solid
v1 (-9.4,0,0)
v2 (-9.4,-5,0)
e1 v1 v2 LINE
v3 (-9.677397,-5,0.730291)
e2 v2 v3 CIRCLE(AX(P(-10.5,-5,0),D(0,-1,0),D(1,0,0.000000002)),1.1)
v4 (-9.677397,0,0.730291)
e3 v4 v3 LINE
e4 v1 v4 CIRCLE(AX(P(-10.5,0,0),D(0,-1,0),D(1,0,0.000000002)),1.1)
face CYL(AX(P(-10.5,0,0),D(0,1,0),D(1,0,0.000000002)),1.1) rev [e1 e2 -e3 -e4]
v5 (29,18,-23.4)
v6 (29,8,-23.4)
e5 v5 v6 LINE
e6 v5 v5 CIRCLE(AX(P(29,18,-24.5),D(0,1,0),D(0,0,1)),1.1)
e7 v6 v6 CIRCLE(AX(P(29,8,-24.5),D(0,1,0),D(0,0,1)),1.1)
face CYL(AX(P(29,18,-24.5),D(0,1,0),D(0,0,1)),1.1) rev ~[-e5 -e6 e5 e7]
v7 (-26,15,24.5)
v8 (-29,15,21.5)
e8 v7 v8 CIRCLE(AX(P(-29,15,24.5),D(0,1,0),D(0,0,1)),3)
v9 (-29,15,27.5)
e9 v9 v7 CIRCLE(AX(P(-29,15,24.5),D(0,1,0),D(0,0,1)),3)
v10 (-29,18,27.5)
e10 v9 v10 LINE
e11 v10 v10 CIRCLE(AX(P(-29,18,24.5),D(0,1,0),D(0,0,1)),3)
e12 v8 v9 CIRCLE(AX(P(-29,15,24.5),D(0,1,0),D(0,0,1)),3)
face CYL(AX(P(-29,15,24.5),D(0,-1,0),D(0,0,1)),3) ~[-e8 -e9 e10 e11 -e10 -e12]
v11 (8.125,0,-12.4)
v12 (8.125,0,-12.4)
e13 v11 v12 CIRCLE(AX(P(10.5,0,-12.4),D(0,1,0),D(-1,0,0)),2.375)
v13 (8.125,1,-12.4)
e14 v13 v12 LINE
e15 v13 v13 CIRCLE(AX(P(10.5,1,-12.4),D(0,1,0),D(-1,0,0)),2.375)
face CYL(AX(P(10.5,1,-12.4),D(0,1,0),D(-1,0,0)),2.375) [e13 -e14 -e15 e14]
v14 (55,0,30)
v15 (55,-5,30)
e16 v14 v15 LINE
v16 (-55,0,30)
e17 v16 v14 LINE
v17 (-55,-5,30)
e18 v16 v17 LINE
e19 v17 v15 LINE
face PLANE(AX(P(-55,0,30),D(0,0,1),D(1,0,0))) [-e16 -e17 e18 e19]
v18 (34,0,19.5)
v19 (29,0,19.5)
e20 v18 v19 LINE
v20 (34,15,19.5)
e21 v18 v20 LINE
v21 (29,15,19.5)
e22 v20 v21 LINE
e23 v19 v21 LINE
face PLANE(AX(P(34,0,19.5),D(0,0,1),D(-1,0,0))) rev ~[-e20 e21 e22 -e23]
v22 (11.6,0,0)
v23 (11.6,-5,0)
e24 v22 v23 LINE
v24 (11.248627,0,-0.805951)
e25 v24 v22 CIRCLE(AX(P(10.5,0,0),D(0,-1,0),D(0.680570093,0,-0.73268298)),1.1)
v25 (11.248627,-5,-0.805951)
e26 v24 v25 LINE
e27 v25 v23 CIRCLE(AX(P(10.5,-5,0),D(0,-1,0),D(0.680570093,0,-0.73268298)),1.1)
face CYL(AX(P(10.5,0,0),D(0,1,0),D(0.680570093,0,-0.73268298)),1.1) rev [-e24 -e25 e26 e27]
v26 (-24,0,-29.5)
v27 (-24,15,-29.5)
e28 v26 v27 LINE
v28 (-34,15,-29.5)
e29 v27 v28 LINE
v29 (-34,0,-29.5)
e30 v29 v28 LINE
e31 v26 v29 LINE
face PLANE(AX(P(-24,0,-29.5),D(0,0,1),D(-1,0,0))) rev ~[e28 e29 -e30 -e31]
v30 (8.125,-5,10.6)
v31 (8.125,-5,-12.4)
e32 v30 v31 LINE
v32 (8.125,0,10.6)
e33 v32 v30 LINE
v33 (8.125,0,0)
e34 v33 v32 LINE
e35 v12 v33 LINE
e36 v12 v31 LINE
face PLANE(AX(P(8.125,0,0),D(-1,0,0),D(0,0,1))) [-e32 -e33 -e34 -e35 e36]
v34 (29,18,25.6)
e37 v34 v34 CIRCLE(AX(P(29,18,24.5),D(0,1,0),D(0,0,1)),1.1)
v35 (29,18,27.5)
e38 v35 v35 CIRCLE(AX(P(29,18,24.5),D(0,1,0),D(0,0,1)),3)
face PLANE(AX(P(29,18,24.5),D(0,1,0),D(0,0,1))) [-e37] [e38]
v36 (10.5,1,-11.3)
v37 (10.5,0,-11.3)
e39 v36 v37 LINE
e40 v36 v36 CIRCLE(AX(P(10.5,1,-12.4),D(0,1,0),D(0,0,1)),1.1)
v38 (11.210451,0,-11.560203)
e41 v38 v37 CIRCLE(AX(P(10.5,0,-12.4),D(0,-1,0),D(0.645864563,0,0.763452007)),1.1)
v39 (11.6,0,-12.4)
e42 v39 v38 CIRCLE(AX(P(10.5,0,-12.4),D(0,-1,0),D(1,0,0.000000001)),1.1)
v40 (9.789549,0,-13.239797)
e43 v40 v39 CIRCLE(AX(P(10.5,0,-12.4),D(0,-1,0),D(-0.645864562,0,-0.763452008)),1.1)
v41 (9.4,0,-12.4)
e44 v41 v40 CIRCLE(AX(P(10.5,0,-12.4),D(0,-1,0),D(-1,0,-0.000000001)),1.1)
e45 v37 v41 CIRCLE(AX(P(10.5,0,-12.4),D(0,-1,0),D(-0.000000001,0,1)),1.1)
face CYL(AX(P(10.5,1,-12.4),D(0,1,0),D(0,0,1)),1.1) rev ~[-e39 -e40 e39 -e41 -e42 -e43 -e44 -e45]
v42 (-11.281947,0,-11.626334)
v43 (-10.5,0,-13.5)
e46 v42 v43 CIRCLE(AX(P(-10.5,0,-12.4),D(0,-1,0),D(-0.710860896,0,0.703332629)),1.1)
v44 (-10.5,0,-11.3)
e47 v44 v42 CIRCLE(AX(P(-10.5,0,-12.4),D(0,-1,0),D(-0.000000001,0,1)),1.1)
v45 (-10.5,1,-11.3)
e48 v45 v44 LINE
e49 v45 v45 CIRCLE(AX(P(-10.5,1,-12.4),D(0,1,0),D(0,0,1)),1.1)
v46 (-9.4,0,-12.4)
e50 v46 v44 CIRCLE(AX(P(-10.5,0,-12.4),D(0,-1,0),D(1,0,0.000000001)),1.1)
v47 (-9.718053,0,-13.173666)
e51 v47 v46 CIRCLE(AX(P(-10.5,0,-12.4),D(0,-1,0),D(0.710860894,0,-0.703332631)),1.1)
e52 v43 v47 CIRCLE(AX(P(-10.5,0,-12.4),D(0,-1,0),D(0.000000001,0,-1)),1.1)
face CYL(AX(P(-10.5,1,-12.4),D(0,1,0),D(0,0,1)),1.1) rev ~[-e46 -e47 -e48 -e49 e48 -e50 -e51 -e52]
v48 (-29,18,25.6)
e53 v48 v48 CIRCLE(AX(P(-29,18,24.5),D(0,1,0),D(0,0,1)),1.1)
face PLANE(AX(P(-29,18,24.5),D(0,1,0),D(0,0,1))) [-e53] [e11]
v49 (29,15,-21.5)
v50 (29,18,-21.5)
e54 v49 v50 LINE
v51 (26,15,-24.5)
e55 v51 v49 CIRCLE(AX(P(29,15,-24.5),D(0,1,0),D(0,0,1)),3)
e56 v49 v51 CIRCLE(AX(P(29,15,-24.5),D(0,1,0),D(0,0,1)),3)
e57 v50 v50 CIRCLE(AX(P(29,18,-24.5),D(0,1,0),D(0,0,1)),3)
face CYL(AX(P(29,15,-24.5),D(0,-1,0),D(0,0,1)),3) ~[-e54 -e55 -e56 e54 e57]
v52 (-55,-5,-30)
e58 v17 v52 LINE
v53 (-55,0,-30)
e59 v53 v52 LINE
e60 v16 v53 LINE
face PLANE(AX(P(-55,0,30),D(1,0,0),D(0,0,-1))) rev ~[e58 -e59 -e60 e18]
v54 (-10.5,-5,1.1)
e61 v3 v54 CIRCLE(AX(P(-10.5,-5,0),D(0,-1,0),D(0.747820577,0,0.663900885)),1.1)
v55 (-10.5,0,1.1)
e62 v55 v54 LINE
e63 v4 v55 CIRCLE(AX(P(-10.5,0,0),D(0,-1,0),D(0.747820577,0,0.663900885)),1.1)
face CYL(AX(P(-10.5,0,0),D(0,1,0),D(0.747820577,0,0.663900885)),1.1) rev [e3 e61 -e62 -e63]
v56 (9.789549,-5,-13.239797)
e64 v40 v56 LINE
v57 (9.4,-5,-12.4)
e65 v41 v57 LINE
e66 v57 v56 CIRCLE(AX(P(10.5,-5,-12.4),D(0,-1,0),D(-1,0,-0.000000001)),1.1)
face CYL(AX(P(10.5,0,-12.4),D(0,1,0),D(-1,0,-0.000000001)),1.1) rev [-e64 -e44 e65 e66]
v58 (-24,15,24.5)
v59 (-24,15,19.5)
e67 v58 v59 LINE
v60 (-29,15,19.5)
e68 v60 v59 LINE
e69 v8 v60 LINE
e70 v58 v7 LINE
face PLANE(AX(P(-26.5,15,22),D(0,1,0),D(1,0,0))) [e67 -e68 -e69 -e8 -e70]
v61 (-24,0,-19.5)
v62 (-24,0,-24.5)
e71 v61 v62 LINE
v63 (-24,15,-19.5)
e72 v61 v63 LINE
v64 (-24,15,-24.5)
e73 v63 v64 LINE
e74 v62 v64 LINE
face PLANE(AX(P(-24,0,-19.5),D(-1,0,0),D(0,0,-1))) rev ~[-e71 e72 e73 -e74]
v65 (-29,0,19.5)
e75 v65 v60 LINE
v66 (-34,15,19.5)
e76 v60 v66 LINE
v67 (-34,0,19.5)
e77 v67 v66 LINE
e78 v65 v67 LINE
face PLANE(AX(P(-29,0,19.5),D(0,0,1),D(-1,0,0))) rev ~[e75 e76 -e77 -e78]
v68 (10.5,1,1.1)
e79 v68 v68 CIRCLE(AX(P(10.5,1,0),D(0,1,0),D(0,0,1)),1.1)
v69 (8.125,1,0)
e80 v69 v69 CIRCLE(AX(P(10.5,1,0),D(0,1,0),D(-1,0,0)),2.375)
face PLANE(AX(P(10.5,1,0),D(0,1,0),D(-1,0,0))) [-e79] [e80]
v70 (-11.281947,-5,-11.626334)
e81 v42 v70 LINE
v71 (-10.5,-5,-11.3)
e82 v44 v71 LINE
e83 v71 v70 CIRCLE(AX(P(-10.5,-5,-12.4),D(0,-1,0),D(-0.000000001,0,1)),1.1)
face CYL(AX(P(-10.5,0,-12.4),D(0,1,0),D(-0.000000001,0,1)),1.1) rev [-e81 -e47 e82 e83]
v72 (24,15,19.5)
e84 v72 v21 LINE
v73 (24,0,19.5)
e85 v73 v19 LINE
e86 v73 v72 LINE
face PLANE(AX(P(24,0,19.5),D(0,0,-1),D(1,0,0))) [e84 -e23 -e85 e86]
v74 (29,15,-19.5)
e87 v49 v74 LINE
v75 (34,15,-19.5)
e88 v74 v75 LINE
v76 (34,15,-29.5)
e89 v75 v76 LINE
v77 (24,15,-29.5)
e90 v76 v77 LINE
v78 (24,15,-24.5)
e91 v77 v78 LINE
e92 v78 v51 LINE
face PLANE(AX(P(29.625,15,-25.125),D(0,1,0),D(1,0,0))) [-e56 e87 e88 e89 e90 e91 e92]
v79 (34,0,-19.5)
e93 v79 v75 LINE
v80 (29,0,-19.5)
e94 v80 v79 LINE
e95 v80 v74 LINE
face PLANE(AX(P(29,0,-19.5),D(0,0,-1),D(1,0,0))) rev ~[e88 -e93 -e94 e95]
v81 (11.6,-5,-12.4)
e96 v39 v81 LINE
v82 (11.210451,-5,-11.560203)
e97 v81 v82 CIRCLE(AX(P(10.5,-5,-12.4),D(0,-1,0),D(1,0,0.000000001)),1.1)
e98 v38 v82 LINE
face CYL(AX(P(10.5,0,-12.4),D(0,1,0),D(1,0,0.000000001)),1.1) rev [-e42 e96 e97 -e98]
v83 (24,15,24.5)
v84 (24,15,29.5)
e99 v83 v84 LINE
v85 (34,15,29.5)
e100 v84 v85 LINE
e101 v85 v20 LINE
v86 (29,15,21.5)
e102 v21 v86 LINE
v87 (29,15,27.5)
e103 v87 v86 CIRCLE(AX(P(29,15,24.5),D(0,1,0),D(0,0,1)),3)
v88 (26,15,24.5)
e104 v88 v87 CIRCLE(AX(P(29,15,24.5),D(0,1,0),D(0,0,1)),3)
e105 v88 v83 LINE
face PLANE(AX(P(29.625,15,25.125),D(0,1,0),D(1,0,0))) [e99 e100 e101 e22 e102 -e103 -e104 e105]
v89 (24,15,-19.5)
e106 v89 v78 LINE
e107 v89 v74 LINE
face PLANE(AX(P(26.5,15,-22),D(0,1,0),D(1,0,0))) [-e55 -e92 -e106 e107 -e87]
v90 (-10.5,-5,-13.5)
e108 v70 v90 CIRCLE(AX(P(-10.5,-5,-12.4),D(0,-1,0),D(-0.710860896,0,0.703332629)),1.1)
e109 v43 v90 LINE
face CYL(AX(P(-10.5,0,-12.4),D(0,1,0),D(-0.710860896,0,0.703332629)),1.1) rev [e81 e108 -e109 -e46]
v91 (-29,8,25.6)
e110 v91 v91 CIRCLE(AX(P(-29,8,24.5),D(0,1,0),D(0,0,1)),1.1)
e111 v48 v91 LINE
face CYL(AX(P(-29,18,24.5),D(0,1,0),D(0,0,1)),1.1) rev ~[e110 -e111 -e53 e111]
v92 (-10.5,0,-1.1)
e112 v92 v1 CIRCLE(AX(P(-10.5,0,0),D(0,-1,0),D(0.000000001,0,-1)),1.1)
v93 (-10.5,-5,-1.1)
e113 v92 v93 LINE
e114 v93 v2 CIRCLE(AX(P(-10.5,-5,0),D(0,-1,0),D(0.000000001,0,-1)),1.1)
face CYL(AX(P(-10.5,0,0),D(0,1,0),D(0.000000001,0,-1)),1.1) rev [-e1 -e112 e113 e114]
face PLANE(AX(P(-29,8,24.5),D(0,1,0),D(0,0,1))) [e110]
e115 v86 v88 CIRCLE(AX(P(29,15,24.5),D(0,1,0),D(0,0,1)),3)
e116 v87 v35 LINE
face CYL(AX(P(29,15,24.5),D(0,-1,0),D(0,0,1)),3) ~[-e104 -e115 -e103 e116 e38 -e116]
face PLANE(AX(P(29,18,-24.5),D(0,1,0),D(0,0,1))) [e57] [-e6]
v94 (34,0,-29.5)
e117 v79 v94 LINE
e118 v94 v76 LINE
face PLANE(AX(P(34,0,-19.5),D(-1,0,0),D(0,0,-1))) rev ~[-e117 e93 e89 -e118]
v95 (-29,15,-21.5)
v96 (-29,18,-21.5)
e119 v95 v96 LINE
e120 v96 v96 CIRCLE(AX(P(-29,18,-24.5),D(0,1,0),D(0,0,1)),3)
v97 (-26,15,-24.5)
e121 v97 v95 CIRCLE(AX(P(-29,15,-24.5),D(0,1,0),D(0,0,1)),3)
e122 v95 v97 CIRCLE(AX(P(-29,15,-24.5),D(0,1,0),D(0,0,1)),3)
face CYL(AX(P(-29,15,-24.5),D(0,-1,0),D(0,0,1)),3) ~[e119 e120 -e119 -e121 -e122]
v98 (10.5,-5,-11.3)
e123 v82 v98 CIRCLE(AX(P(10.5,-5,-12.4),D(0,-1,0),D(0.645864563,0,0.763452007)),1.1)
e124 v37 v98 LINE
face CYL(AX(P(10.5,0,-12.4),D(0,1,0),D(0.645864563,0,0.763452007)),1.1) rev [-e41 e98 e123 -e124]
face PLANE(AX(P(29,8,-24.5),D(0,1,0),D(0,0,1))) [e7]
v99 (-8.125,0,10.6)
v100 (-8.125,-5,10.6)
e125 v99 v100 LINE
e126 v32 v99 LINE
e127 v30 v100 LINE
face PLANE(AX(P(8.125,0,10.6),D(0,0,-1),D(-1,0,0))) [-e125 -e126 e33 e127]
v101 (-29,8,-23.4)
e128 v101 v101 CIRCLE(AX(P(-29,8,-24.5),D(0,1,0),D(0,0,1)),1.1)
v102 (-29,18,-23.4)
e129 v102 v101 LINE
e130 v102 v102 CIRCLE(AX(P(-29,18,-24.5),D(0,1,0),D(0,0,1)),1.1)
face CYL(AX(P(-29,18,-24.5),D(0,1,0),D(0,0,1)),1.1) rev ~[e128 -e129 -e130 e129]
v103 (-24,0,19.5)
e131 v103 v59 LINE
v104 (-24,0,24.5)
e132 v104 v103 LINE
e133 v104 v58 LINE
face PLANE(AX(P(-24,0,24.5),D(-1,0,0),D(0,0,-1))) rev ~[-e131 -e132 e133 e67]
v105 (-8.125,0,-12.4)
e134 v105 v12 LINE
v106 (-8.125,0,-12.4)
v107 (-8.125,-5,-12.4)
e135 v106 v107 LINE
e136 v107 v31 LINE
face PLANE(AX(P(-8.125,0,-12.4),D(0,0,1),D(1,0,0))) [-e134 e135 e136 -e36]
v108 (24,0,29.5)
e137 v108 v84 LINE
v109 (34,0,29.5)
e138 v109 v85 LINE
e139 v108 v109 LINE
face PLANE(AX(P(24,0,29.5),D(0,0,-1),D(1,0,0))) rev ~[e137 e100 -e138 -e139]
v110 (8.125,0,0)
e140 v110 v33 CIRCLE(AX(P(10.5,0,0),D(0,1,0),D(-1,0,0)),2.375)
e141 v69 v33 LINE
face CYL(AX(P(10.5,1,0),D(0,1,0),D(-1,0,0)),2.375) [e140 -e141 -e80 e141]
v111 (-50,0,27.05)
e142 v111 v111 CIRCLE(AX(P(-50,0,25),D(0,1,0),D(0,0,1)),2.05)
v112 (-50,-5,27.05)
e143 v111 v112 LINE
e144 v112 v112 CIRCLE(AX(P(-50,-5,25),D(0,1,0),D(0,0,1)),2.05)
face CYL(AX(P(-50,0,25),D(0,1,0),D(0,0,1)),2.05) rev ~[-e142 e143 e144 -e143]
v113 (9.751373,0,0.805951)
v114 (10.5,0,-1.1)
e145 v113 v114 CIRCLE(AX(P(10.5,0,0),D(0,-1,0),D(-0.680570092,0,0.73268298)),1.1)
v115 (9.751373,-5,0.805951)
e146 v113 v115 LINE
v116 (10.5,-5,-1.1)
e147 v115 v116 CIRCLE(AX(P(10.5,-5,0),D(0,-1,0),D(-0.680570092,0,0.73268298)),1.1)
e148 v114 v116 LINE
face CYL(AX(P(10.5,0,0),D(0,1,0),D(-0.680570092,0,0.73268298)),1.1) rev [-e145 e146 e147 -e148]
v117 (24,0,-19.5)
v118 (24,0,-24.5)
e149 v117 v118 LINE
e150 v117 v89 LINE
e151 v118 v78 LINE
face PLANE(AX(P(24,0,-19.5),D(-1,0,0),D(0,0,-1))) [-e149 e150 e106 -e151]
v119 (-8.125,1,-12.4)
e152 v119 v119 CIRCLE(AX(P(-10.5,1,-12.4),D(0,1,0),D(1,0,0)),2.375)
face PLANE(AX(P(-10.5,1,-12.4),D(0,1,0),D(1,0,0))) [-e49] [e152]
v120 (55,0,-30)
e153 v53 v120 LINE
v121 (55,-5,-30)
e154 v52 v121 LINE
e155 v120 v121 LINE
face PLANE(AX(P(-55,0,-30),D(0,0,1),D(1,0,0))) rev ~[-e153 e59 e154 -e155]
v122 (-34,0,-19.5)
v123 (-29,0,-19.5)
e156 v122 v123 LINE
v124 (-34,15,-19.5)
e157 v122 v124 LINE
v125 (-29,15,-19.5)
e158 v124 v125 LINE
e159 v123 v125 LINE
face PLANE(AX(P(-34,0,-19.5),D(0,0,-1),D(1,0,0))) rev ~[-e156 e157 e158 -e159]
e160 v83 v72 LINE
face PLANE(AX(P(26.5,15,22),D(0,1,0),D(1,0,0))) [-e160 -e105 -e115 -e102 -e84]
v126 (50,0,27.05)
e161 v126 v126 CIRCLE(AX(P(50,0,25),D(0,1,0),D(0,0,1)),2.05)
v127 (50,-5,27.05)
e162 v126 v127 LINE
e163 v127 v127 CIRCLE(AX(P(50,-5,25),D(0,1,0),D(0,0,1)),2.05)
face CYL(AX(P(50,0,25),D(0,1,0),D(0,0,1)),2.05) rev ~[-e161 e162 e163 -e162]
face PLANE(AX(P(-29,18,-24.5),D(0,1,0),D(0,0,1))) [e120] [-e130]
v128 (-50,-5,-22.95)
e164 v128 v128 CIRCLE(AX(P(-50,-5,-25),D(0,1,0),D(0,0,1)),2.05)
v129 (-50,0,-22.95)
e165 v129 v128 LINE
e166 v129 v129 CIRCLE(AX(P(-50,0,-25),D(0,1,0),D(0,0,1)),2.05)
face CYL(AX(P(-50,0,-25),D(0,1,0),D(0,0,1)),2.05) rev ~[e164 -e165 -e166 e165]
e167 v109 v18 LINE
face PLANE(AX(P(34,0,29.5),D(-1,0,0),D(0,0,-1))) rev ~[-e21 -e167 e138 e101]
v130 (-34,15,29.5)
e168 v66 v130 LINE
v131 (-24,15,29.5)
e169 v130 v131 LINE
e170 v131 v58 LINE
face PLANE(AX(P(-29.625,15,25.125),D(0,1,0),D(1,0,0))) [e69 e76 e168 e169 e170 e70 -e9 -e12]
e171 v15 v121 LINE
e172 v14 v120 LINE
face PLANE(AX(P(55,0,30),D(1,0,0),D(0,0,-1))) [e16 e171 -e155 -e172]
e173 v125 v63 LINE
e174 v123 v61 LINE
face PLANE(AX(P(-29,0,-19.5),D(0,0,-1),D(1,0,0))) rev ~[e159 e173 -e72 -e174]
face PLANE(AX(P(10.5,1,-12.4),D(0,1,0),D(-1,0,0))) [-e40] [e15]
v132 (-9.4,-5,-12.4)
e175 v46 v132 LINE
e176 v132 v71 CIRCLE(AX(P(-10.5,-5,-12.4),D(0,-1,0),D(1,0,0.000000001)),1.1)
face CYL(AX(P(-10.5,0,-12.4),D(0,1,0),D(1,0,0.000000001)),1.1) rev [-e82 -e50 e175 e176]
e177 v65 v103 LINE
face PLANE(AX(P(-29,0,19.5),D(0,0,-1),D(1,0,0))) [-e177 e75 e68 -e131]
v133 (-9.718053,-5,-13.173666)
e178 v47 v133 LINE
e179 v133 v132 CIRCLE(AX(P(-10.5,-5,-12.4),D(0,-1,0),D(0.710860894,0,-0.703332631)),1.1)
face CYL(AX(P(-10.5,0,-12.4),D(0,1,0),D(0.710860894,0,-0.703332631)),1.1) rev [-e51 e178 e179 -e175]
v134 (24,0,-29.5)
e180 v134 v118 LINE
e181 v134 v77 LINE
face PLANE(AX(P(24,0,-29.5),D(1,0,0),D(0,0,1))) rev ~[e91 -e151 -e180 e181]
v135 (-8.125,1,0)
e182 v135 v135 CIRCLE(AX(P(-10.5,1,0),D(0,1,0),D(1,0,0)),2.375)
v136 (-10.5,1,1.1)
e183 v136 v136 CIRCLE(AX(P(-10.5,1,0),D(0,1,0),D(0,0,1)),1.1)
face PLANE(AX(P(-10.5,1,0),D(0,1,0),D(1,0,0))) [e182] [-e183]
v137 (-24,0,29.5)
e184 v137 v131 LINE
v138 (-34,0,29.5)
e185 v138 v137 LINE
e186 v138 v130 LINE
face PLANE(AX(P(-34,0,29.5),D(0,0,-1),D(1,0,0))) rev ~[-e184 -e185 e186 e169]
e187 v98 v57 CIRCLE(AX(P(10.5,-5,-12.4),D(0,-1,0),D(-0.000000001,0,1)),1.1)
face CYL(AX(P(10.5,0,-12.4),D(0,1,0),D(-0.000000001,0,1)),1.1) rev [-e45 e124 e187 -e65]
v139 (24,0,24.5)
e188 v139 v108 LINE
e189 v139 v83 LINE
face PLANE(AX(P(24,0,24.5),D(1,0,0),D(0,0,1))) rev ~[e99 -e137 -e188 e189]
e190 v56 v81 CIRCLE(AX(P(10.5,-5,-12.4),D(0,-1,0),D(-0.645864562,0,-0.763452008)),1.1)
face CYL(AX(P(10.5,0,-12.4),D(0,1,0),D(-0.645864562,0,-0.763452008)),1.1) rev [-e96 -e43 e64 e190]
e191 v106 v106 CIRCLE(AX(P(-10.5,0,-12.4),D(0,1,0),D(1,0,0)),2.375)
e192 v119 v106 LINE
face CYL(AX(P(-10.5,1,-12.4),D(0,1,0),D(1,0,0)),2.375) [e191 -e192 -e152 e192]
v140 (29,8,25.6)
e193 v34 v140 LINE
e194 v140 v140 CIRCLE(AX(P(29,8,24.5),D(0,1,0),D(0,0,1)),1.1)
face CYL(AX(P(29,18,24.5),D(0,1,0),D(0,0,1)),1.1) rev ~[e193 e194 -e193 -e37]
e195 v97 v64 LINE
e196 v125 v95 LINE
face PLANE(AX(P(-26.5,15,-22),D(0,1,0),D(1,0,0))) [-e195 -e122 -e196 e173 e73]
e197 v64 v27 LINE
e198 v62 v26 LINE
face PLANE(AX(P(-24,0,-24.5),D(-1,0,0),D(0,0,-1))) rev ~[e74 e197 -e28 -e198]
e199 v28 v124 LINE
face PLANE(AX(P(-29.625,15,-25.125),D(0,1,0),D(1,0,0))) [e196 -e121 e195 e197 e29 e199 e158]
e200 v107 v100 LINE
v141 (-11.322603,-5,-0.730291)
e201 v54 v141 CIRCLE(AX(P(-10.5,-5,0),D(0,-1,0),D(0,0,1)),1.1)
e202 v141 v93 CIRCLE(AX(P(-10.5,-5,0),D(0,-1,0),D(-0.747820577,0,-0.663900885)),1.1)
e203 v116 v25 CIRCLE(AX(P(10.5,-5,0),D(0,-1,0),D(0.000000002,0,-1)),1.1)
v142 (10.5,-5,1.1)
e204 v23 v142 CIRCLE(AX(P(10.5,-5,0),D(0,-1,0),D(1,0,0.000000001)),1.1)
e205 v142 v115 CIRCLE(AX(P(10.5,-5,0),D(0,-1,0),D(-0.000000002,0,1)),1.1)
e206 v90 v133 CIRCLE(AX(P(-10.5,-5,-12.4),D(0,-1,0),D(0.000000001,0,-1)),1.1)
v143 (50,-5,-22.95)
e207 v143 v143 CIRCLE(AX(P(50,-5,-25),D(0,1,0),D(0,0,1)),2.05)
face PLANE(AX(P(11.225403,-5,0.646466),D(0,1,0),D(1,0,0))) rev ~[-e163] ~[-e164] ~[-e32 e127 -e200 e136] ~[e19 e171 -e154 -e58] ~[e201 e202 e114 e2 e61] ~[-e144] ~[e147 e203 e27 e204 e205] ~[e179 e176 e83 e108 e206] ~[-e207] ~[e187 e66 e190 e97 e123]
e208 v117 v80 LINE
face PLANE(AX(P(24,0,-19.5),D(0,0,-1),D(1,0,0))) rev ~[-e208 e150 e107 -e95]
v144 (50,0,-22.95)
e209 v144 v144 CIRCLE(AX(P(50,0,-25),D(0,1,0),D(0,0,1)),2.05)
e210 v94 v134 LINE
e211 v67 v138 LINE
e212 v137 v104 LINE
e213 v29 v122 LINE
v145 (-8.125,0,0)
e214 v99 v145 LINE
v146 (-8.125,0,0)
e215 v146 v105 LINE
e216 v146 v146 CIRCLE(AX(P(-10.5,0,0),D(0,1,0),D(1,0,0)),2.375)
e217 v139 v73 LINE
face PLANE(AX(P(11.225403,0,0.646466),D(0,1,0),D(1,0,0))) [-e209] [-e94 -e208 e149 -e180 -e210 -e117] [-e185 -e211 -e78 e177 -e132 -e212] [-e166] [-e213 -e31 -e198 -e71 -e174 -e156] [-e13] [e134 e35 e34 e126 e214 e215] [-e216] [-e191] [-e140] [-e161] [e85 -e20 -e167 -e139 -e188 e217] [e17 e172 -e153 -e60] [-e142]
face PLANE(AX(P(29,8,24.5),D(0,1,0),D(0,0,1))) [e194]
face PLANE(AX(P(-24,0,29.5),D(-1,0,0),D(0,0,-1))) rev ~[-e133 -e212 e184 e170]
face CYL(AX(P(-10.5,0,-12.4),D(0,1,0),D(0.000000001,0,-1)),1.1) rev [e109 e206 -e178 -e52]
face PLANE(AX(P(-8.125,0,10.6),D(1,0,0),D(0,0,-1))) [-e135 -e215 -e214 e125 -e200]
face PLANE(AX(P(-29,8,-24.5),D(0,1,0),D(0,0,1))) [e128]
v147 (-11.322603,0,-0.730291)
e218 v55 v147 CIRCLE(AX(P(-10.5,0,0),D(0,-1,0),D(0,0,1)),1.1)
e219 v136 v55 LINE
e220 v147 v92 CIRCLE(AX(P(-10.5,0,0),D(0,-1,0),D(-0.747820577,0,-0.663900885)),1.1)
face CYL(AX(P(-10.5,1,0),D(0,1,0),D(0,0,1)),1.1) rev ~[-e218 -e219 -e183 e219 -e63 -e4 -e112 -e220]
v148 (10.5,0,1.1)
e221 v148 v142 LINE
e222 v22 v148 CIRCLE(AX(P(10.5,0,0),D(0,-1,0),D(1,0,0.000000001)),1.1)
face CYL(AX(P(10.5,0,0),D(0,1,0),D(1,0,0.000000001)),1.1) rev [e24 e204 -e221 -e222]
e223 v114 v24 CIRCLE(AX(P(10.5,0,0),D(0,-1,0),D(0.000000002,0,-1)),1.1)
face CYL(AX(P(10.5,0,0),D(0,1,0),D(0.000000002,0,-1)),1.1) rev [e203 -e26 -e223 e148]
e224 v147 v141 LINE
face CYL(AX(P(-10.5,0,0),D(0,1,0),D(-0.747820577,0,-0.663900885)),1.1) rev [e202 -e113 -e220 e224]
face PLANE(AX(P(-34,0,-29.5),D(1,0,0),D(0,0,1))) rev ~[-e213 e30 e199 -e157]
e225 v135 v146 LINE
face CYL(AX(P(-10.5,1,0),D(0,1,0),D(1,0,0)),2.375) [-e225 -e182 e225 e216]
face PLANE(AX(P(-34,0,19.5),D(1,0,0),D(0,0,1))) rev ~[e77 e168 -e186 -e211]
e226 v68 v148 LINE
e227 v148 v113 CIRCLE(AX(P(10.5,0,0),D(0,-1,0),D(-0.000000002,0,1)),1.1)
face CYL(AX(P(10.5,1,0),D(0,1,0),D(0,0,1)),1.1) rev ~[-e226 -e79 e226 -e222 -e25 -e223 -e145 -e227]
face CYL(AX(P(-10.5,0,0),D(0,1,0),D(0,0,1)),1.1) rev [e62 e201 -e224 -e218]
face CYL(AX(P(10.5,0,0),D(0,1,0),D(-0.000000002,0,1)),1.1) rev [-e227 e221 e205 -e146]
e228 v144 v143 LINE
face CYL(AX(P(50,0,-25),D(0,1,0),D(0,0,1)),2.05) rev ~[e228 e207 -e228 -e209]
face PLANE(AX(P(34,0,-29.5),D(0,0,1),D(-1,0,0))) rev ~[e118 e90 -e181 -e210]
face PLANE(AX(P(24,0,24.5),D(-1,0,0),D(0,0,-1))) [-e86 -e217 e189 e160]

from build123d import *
from build123d.topology import SkipClean

# Parameters (mm, degrees)
ESQUISSE1_W             = 110
ESQUISSE1_H             = 60
BOSS_EXTRU_2_DEPTH      = 5
BOSS_EXTRU_3_START      = 1
ESQUISSE3_R             = 2.375
ESQUISSE3_R_2           = 1.1
BOSS_EXTRU_3_DEPTH      = 1
ESQUISSE4_W             = 5
ESQUISSE4_H             = 5
BOSS_EXTRU_5_DEPTH      = 15
ESQUISSE5_R             = 3
BOSS_EXTRU_6_DEPTH      = 3
ESQUISSE10_R            = 1.1
ENL_V_MAT_EXTRU_1_DEPTH = 10
ESQUISSE11_R            = 2.05
ENL_V_MAT_EXTRU_2_DEPTH = 10


with BuildPart() as part:
    # Esquisse1 → Boss.-Extru.2 (new body)
    # profile 1 of 22: a face of its own
    with BuildSketch(Plane(origin=(0, 0, 0), x_dir=(1, 0, 0), z_dir=(0, 1, 0))):
        Rectangle(ESQUISSE1_W, ESQUISSE1_H)
        with BuildLine():
            Line((-10.5, 2.375), (-10.5, 6.25))
            Line((-10.5, 6.25), (-10.5, 10.025))
            ThreePointArc((-10.5, 10.025), (-11.41471017, 10.208212988), (-12.188294627, 10.729585006))
            ThreePointArc((-12.188294627, 10.729585006), (-12.170414994, 14.088294627), (-8.811705373, 14.070414994))
            ThreePointArc((-8.811705373, 14.070414994), (-8.303374777, 13.303029695), (-8.125, 12.4))
            Line((-8.125, 12.4), (8.125, 12.4))
            ThreePointArc((8.125, 12.4), (8.345504143, 13.399386113), (8.966071665, 14.213198517))
            ThreePointArc((8.966071665, 14.213198517), (11.499386113, 14.554495857), (12.875, 12.4))
            ThreePointArc((12.875, 12.4), (12.654495857, 11.400613887), (12.033928335, 10.586801483))
            ThreePointArc((12.033928335, 10.586801483), (11.316785933, 10.169868672), (10.5, 10.025))
            Line((10.5, 10.025), (10.5, 2.375))
            ThreePointArc((10.5, 2.375), (11.368284246, 2.210589846), (12.116353968, 1.740122079))
            ThreePointArc((12.116353968, 1.740122079), (12.677092749, 0.949153393), (12.875, 0))
            ThreePointArc((12.875, 0), (11.449153393, -2.177092749), (8.883646032, -1.740122079))
            ThreePointArc((8.883646032, -1.740122079), (8.322907249, -0.949153387), (8.125, 1.1e-08))
            Line((8.125, 1.1e-08), (8.125, -10.6))
            Line((8.125, -10.6), (-8.125, -10.6))
            Line((-8.125, -10.6), (-8.125, 0))
            ThreePointArc((-8.125, 0), (-8.279774736, -0.843341435), (-8.723926127, -1.576764598))
            ThreePointArc((-8.723926127, -1.576764598), (-12.076764598, -1.776073873), (-12.276073873, 1.576764598))
            ThreePointArc((-12.276073873, 1.576764598), (-11.473603893, 2.166268788), (-10.5, 2.375))
        make_face(mode=Mode.SUBTRACT)
    # profile 2 of 22: a face of its own
    with BuildSketch(Plane(origin=(0, 0, 0), x_dir=(1, 0, 0), z_dir=(0, 1, 0))):
        with BuildLine():
            Line((-10.5, 6.25), (-8.125, 6.25))
            Line((-8.125, 6.25), (-8.125, 12.4))
            ThreePointArc((-8.125, 12.4), (-8.820621395, 10.720621395), (-10.5, 10.025))
            Line((-10.5, 10.025), (-10.5, 6.25))
        make_face()
    # profile 3 of 22: a face of its own
    with BuildSketch(Plane(origin=(0, 0, 0), x_dir=(1, 0, 0), z_dir=(0, 1, 0))):
        with BuildLine():
            Line((-8.125, 0), (-8.125, 6.25))
            Line((-8.125, 6.25), (-10.5, 6.25))
            Line((-10.5, 6.25), (-10.5, 2.375))
            ThreePointArc((-10.5, 2.375), (-8.820621395, 1.679378605), (-8.125, 0))
        make_face()
    # profile 4 of 22: a face of its own
    with BuildSketch(Plane(origin=(0, 0, 0), x_dir=(1, 0, 0), z_dir=(0, 1, 0))):
        with BuildLine():
            ThreePointArc((10.5, 10.025), (8.820621395, 10.720621395), (8.125, 12.4))
            Line((8.125, 12.4), (8.125, 1.1e-08))
            ThreePointArc((8.125, 1.1e-08), (8.820621399, 1.679378609), (10.5, 2.375))
            Line((10.5, 2.375), (10.5, 10.025))
        make_face()
    # profile 5 of 22: a face of its own
    with BuildSketch(Plane(origin=(0, 0, 0), x_dir=(1, 0, 0), z_dir=(0, 1, 0))):
        with BuildLine():
            Line((9.4, 12.4), (8.125, 12.4))
            ThreePointArc((8.125, 12.4), (8.820621395, 10.720621395), (10.5, 10.025))
            Line((10.5, 10.025), (10.5, 11.3))
            ThreePointArc((10.5, 11.3), (9.722182541, 11.622182541), (9.4, 12.4))
        make_face()
    # profile 6 of 22: a face of its own
    with BuildSketch(Plane(origin=(0, 0, 0), x_dir=(1, 0, 0), z_dir=(0, 1, 0))):
        with BuildLine():
            ThreePointArc((8.966071665, 14.213198517), (8.345504143, 13.399386113), (8.125, 12.4))
            Line((8.125, 12.4), (9.4, 12.4))
            ThreePointArc((9.4, 12.4), (9.502128235, 12.862873568), (9.789548982, 13.239797208))
            Line((9.789548982, 13.239797208), (8.966071665, 14.213198517))
        make_face()
    # profile 7 of 22: a face of its own
    with BuildSketch(Plane(origin=(0, 0, 0), x_dir=(1, 0, 0), z_dir=(0, 1, 0))):
        with BuildLine():
            ThreePointArc((12.875, 12.4), (11.499386113, 14.554495857), (8.966071665, 14.213198517))
            Line((8.966071665, 14.213198517), (9.789548982, 13.239797208))
            ThreePointArc((9.789548982, 13.239797208), (10.962873568, 13.397871765), (11.6, 12.4))
            ThreePointArc((11.6, 12.4), (11.497871765, 11.937126432), (11.210451018, 11.560202792))
            Line((11.210451018, 11.560202792), (12.033928335, 10.586801483))
            ThreePointArc((12.033928335, 10.586801483), (12.654495857, 11.400613887), (12.875, 12.4))
        make_face()
    # profile 8 of 22: a face of its own
    with BuildSketch(Plane(origin=(0, 0, 0), x_dir=(1, 0, 0), z_dir=(0, 1, 0))):
        with BuildLine():
            Line((10.5, 11.3), (10.5, 10.025))
            ThreePointArc((10.5, 10.025), (11.316785933, 10.169868672), (12.033928335, 10.586801483))
            Line((12.033928335, 10.586801483), (11.210451018, 11.560202792))
            ThreePointArc((11.210451018, 11.560202792), (10.878300853, 11.367097069), (10.5, 11.3))
        make_face()
    # profile 9 of 22: a face of its own
    with BuildSketch(Plane(origin=(0, 0, 0), x_dir=(1, 0, 0), z_dir=(0, 1, 0))):
        with BuildLine():
            Line((-9.718053015, 13.173665892), (-8.811705373, 14.070414994))
            ThreePointArc((-8.811705373, 14.070414994), (-12.170414994, 14.088294627), (-12.188294627, 10.729585006))
            Line((-12.188294627, 10.729585006), (-11.281946985, 11.626334108))
            ThreePointArc((-11.281946985, 11.626334108), (-11.515143458, 12.823655236), (-10.5, 13.5))
            ThreePointArc((-10.5, 13.5), (-10.076344764, 13.415143458), (-9.718053015, 13.173665892))
        make_face()
    # profile 10 of 22: a face of its own
    with BuildSketch(Plane(origin=(0, 0, 0), x_dir=(1, 0, 0), z_dir=(0, 1, 0))):
        with BuildLine():
            ThreePointArc((-12.188294627, 10.729585006), (-11.41471017, 10.208212988), (-10.5, 10.025))
            Line((-10.5, 10.025), (-10.5, 11.3))
            ThreePointArc((-10.5, 11.3), (-10.923655236, 11.384856542), (-11.281946985, 11.626334108))
            Line((-11.281946985, 11.626334108), (-12.188294627, 10.729585006))
        make_face()
    # profile 11 of 22: a face of its own
    with BuildSketch(Plane(origin=(0, 0, 0), x_dir=(1, 0, 0), z_dir=(0, 1, 0))):
        with BuildLine():
            ThreePointArc((-10.5, 10.025), (-8.820621395, 10.720621395), (-8.125, 12.4))
            Line((-8.125, 12.4), (-9.4, 12.4))
            ThreePointArc((-9.4, 12.4), (-9.722182541, 11.622182541), (-10.5, 11.3))
            Line((-10.5, 11.3), (-10.5, 10.025))
        make_face()
    # profile 12 of 22: a face of its own
    with BuildSketch(Plane(origin=(0, 0, 0), x_dir=(1, 0, 0), z_dir=(0, 1, 0))):
        with BuildLine():
            Line((-9.4, 12.4), (-8.125, 12.4))
            ThreePointArc((-8.125, 12.4), (-8.303374777, 13.303029695), (-8.811705373, 14.070414994))
            Line((-8.811705373, 14.070414994), (-9.718053015, 13.173665892))
            ThreePointArc((-9.718053015, 13.173665892), (-9.482615686, 12.818245333), (-9.4, 12.4))
        make_face()
    # profile 13 of 22: a face of its own
    with BuildSketch(Plane(origin=(0, 0, 0), x_dir=(1, 0, 0), z_dir=(0, 1, 0))):
        with BuildLine():
            ThreePointArc((-8.723926127, -1.576764598), (-8.279774736, -0.843341435), (-8.125, 0))
            ThreePointArc((-8.125, 0), (-8.820621395, 1.679378605), (-10.5, 2.375))
            Line((-10.5, 2.375), (-10.5, 1.1))
            ThreePointArc((-10.5, 1.1), (-9.722182541, 0.777817459), (-9.4, 0))
            ThreePointArc((-9.4, 0), (-9.471685141, -0.390600243), (-9.677397364, -0.730290972))
            Line((-9.677397364, -0.730290972), (-8.723926127, -1.576764598))
        make_face()
    # profile 14 of 22: a face of its own
    with BuildSketch(Plane(origin=(0, 0, 0), x_dir=(1, 0, 0), z_dir=(0, 1, 0))):
        with BuildLine():
            Line((-10.5, 1.1), (-10.5, 2.375))
            ThreePointArc((-10.5, 2.375), (-11.473603893, 2.166268788), (-12.276073873, 1.576764598))
            Line((-12.276073873, 1.576764598), (-11.322602636, 0.730290972))
            ThreePointArc((-11.322602636, 0.730290972), (-10.950932329, 1.003324491), (-10.5, 1.1))
        make_face()
    # profile 15 of 22: a face of its own
    with BuildSketch(Plane(origin=(0, 0, 0), x_dir=(1, 0, 0), z_dir=(0, 1, 0))):
        with BuildLine():
            ThreePointArc((-8.723926127, -1.576764598), (-8.279774736, -0.843341435), (-8.125, 0))
            ThreePointArc((-8.125, 0), (-8.820621395, 1.679378605), (-10.5, 2.375))
            Line((-10.5, 2.375), (-10.5, 1.1))
            ThreePointArc((-10.5, 1.1), (-9.722182541, 0.777817459), (-9.4, 0))
            ThreePointArc((-9.4, 0), (-9.471685141, -0.390600243), (-9.677397364, -0.730290972))
            Line((-9.677397364, -0.730290972), (-8.723926127, -1.576764598))
        make_face()
    # profile 16 of 22: a face of its own
    with BuildSketch(Plane(origin=(0, 0, 0), x_dir=(1, 0, 0), z_dir=(0, 1, 0))):
        with BuildLine():
            Line((-10.5, 1.1), (-10.5, 2.375))
            ThreePointArc((-10.5, 2.375), (-11.473603893, 2.166268788), (-12.276073873, 1.576764598))
            Line((-12.276073873, 1.576764598), (-11.322602636, 0.730290972))
            ThreePointArc((-11.322602636, 0.730290972), (-10.950932329, 1.003324491), (-10.5, 1.1))
        make_face()
    # profile 17 of 22: a face of its own
    with BuildSketch(Plane(origin=(0, 0, 0), x_dir=(1, 0, 0), z_dir=(0, 1, 0))):
        with BuildLine():
            ThreePointArc((-12.276073873, 1.576764598), (-12.076764598, -1.776073873), (-8.723926127, -1.576764598))
            Line((-8.723926127, -1.576764598), (-9.677397364, -0.730290972))
            ThreePointArc((-9.677397364, -0.730290972), (-10.049067671, -1.003324491), (-10.5, -1.1))
            ThreePointArc((-10.5, -1.1), (-11.503324491, -0.450932329), (-11.322602636, 0.730290972))
            Line((-11.322602636, 0.730290972), (-12.276073873, 1.576764598))
        make_face()
    # profile 18 of 22: a face of its own
    with BuildSketch(Plane(origin=(0, 0, 0), x_dir=(1, 0, 0), z_dir=(0, 1, 0))):
        with BuildLine():
            ThreePointArc((10.5, 2.375), (8.820621399, 1.679378609), (8.125, 1.1e-08))
            ThreePointArc((8.125, 1.1e-08), (8.322907249, -0.949153387), (8.883646032, -1.740122079))
            Line((8.883646032, -1.740122079), (9.751372899, -0.805951279))
            ThreePointArc((9.751372899, -0.805951279), (9.476147861, 0.402152703), (10.5, 1.1))
            Line((10.5, 1.1), (10.5, 2.375))
        make_face()
    # profile 19 of 22: a face of its own
    with BuildSketch(Plane(origin=(0, 0, 0), x_dir=(1, 0, 0), z_dir=(0, 1, 0))):
        with BuildLine():
            ThreePointArc((12.116353968, 1.740122079), (11.368284246, 2.210589846), (10.5, 2.375))
            Line((10.5, 2.375), (10.5, 1.1))
            ThreePointArc((10.5, 1.1), (10.902152703, 1.023852139), (11.248627101, 0.805951279))
            Line((11.248627101, 0.805951279), (12.116353968, 1.740122079))
        make_face()
    # profile 20 of 22: a face of its own
    with BuildSketch(Plane(origin=(0, 0, 0), x_dir=(1, 0, 0), z_dir=(0, 1, 0))):
        with BuildLine():
            ThreePointArc((10.5, 2.375), (8.820621399, 1.679378609), (8.125, 1.1e-08))
            ThreePointArc((8.125, 1.1e-08), (8.322907249, -0.949153387), (8.883646032, -1.740122079))
            Line((8.883646032, -1.740122079), (9.751372899, -0.805951279))
            ThreePointArc((9.751372899, -0.805951279), (9.476147861, 0.402152703), (10.5, 1.1))
            Line((10.5, 1.1), (10.5, 2.375))
        make_face()
    # profile 21 of 22: a face of its own
    with BuildSketch(Plane(origin=(0, 0, 0), x_dir=(1, 0, 0), z_dir=(0, 1, 0))):
        with BuildLine():
            ThreePointArc((12.116353968, 1.740122079), (11.368284246, 2.210589846), (10.5, 2.375))
            Line((10.5, 2.375), (10.5, 1.1))
            ThreePointArc((10.5, 1.1), (10.902152703, 1.023852139), (11.248627101, 0.805951279))
            Line((11.248627101, 0.805951279), (12.116353968, 1.740122079))
        make_face()
    # profile 22 of 22: a face of its own
    with BuildSketch(Plane(origin=(0, 0, 0), x_dir=(1, 0, 0), z_dir=(0, 1, 0))):
        with BuildLine():
            Line((9.751372899, -0.805951279), (8.883646032, -1.740122079))
            ThreePointArc((8.883646032, -1.740122079), (11.449153393, -2.177092749), (12.875, 0))
            ThreePointArc((12.875, 0), (12.677092749, 0.949153393), (12.116353968, 1.740122079))
            Line((12.116353968, 1.740122079), (11.248627101, 0.805951279))
            ThreePointArc((11.248627101, 0.805951279), (11.508337694, 0.439607887), (11.6, 0))
            ThreePointArc((11.6, 0), (11.277817459, -0.777817459), (10.5, -1.1))
            ThreePointArc((10.5, -1.1), (10.097847297, -1.023852139), (9.751372899, -0.805951279))
        make_face()
    extrude(amount=-BOSS_EXTRU_2_DEPTH)

    # Esquisse3 → Boss.-Extru.3 (add)
    # profile 1 of 4: a face of its own
    with SkipClean():  # the faces are left unmerged after this step: merging them gives an invalid solid
        with BuildSketch(Plane(origin=(0, 0, 0), x_dir=(1, 0, 0), z_dir=(0, 1, 0)).offset(BOSS_EXTRU_3_START)):
            with Locations((-10.5, 12.4)):
                Circle(ESQUISSE3_R)
            with Locations(Location((-10.5, 12.4, 0), (0, 0, 270))):
                Circle(ESQUISSE3_R_2, mode=Mode.SUBTRACT)
        # profile 2 of 4: a face of its own
        with BuildSketch(Plane(origin=(0, 0, 0), x_dir=(1, 0, 0), z_dir=(0, 1, 0)).offset(BOSS_EXTRU_3_START)):
            with Locations(Location((10.5, 12.4, 0), (0, 0, 180))):
                Circle(ESQUISSE3_R)
            with Locations(Location((10.5, 12.4, 0), (0, 0, 270))):
                Circle(ESQUISSE3_R_2, mode=Mode.SUBTRACT)
        # profile 3 of 4: a face of its own
        with BuildSketch(Plane(origin=(0, 0, 0), x_dir=(1, 0, 0), z_dir=(0, 1, 0)).offset(BOSS_EXTRU_3_START)):
            with Locations(Location((10.5, 0, 0), (0, 0, 180))):
                Circle(ESQUISSE3_R)
            with Locations(Location((10.5, 0, 0), (0, 0, 270))):
                Circle(ESQUISSE3_R_2, mode=Mode.SUBTRACT)
        # profile 4 of 4: a face of its own
        with BuildSketch(Plane(origin=(0, 0, 0), x_dir=(1, 0, 0), z_dir=(0, 1, 0)).offset(BOSS_EXTRU_3_START)):
            with Locations((-10.5, 0)):
                Circle(ESQUISSE3_R)
            with Locations(Location((-10.5, 0, 0), (0, 0, 270))):
                Circle(ESQUISSE3_R_2, mode=Mode.SUBTRACT)
        extrude(amount=-BOSS_EXTRU_3_DEPTH)

    # Esquisse4 → Boss.-Extru.5 (add)
    with SkipClean():  # the faces are left unmerged after this step: merging them gives an invalid solid
        with BuildSketch(Plane(origin=(0, 0, 0), x_dir=(1, 0, 0), z_dir=(0, 1, 0))):
            Polygon((-29, -24.5), (-29, -19.5), (-34, -19.5), (-34, -29.5), (-24, -29.5), (-24, -24.5), align=None)
            with Locations((-26.5, -22)):
                Rectangle(ESQUISSE4_W, ESQUISSE4_H)
            Polygon((-34, 19.5), (-29, 19.5), (-29, 24.5), (-24, 24.5), (-24, 29.5), (-34, 29.5), align=None)
            with Locations((-26.5, 22)):
                Rectangle(ESQUISSE4_W, ESQUISSE4_H)
            Polygon((29, 24.5), (29, 19.5), (34, 19.5), (34, 29.5), (24, 29.5), (24, 24.5), align=None)
            with Locations((26.5, 22)):
                Rectangle(ESQUISSE4_W, ESQUISSE4_H)
            Polygon((34, -19.5), (29, -19.5), (29, -24.5), (24, -24.5), (24, -29.5), (34, -29.5), align=None)
            with Locations((26.5, -22)):
                Rectangle(ESQUISSE4_W, ESQUISSE4_H)
        extrude(amount=BOSS_EXTRU_5_DEPTH)

    # Esquisse5 → Boss.-Extru.6 (add)
    with SkipClean():  # the faces are left unmerged after this step: merging them gives an invalid solid
        with BuildSketch(Plane(origin=(0, 15, 0), x_dir=(1, 0, 0), z_dir=(0, 1, 0))):
            with Locations(Location((-29, -24.5, 0), (0, 0, 270))):
                Circle(ESQUISSE5_R)
            with Locations(Location((-29, 24.5, 0), (0, 0, 270))):
                Circle(ESQUISSE5_R)
            with Locations(Location((29, 24.5, 0), (0, 0, 270))):
                Circle(ESQUISSE5_R)
            with Locations(Location((29, -24.5, 0), (0, 0, 270))):
                Circle(ESQUISSE5_R)
        extrude(amount=BOSS_EXTRU_6_DEPTH)

    # Esquisse10 → Enlèv. mat.-Extru.1 (cut)
    with SkipClean():  # the faces are left unmerged after this step: merging them gives an invalid solid
        with BuildSketch(Plane(origin=(0, 18, 0), x_dir=(1, 0, 0), z_dir=(0, 1, 0))):
            with Locations(Location((-29, 24.5, 0), (0, 0, 270))):
                Circle(ESQUISSE10_R)
            with Locations(Location((29, 24.5, 0), (0, 0, 270))):
                Circle(ESQUISSE10_R)
            with Locations(Location((-29, -24.5, 0), (0, 0, 270))):
                Circle(ESQUISSE10_R)
            with Locations(Location((29, -24.5, 0), (0, 0, 270))):
                Circle(ESQUISSE10_R)
        extrude(amount=-ENL_V_MAT_EXTRU_1_DEPTH, mode=Mode.SUBTRACT)

    # Esquisse11 → Enlèv. mat.-Extru.2 (cut)
    with SkipClean():  # the faces are left unmerged after this step: merging them gives an invalid solid
        with BuildSketch(Plane(origin=(0, 0, 0), x_dir=(1, 0, 0), z_dir=(0, 1, 0))):
            with Locations(Location((-50, 25, 0), (0, 0, 270))):
                Circle(ESQUISSE11_R)
            with Locations(Location((-50, -25, 0), (0, 0, 270))):
                Circle(ESQUISSE11_R)
            with Locations(Location((50, -25, 0), (0, 0, 270))):
                Circle(ESQUISSE11_R)
            with Locations(Location((50, 25, 0), (0, 0, 270))):
                Circle(ESQUISSE11_R)
        extrude(amount=-ENL_V_MAT_EXTRU_2_DEPTH, mode=Mode.SUBTRACT)


solid = part.part
